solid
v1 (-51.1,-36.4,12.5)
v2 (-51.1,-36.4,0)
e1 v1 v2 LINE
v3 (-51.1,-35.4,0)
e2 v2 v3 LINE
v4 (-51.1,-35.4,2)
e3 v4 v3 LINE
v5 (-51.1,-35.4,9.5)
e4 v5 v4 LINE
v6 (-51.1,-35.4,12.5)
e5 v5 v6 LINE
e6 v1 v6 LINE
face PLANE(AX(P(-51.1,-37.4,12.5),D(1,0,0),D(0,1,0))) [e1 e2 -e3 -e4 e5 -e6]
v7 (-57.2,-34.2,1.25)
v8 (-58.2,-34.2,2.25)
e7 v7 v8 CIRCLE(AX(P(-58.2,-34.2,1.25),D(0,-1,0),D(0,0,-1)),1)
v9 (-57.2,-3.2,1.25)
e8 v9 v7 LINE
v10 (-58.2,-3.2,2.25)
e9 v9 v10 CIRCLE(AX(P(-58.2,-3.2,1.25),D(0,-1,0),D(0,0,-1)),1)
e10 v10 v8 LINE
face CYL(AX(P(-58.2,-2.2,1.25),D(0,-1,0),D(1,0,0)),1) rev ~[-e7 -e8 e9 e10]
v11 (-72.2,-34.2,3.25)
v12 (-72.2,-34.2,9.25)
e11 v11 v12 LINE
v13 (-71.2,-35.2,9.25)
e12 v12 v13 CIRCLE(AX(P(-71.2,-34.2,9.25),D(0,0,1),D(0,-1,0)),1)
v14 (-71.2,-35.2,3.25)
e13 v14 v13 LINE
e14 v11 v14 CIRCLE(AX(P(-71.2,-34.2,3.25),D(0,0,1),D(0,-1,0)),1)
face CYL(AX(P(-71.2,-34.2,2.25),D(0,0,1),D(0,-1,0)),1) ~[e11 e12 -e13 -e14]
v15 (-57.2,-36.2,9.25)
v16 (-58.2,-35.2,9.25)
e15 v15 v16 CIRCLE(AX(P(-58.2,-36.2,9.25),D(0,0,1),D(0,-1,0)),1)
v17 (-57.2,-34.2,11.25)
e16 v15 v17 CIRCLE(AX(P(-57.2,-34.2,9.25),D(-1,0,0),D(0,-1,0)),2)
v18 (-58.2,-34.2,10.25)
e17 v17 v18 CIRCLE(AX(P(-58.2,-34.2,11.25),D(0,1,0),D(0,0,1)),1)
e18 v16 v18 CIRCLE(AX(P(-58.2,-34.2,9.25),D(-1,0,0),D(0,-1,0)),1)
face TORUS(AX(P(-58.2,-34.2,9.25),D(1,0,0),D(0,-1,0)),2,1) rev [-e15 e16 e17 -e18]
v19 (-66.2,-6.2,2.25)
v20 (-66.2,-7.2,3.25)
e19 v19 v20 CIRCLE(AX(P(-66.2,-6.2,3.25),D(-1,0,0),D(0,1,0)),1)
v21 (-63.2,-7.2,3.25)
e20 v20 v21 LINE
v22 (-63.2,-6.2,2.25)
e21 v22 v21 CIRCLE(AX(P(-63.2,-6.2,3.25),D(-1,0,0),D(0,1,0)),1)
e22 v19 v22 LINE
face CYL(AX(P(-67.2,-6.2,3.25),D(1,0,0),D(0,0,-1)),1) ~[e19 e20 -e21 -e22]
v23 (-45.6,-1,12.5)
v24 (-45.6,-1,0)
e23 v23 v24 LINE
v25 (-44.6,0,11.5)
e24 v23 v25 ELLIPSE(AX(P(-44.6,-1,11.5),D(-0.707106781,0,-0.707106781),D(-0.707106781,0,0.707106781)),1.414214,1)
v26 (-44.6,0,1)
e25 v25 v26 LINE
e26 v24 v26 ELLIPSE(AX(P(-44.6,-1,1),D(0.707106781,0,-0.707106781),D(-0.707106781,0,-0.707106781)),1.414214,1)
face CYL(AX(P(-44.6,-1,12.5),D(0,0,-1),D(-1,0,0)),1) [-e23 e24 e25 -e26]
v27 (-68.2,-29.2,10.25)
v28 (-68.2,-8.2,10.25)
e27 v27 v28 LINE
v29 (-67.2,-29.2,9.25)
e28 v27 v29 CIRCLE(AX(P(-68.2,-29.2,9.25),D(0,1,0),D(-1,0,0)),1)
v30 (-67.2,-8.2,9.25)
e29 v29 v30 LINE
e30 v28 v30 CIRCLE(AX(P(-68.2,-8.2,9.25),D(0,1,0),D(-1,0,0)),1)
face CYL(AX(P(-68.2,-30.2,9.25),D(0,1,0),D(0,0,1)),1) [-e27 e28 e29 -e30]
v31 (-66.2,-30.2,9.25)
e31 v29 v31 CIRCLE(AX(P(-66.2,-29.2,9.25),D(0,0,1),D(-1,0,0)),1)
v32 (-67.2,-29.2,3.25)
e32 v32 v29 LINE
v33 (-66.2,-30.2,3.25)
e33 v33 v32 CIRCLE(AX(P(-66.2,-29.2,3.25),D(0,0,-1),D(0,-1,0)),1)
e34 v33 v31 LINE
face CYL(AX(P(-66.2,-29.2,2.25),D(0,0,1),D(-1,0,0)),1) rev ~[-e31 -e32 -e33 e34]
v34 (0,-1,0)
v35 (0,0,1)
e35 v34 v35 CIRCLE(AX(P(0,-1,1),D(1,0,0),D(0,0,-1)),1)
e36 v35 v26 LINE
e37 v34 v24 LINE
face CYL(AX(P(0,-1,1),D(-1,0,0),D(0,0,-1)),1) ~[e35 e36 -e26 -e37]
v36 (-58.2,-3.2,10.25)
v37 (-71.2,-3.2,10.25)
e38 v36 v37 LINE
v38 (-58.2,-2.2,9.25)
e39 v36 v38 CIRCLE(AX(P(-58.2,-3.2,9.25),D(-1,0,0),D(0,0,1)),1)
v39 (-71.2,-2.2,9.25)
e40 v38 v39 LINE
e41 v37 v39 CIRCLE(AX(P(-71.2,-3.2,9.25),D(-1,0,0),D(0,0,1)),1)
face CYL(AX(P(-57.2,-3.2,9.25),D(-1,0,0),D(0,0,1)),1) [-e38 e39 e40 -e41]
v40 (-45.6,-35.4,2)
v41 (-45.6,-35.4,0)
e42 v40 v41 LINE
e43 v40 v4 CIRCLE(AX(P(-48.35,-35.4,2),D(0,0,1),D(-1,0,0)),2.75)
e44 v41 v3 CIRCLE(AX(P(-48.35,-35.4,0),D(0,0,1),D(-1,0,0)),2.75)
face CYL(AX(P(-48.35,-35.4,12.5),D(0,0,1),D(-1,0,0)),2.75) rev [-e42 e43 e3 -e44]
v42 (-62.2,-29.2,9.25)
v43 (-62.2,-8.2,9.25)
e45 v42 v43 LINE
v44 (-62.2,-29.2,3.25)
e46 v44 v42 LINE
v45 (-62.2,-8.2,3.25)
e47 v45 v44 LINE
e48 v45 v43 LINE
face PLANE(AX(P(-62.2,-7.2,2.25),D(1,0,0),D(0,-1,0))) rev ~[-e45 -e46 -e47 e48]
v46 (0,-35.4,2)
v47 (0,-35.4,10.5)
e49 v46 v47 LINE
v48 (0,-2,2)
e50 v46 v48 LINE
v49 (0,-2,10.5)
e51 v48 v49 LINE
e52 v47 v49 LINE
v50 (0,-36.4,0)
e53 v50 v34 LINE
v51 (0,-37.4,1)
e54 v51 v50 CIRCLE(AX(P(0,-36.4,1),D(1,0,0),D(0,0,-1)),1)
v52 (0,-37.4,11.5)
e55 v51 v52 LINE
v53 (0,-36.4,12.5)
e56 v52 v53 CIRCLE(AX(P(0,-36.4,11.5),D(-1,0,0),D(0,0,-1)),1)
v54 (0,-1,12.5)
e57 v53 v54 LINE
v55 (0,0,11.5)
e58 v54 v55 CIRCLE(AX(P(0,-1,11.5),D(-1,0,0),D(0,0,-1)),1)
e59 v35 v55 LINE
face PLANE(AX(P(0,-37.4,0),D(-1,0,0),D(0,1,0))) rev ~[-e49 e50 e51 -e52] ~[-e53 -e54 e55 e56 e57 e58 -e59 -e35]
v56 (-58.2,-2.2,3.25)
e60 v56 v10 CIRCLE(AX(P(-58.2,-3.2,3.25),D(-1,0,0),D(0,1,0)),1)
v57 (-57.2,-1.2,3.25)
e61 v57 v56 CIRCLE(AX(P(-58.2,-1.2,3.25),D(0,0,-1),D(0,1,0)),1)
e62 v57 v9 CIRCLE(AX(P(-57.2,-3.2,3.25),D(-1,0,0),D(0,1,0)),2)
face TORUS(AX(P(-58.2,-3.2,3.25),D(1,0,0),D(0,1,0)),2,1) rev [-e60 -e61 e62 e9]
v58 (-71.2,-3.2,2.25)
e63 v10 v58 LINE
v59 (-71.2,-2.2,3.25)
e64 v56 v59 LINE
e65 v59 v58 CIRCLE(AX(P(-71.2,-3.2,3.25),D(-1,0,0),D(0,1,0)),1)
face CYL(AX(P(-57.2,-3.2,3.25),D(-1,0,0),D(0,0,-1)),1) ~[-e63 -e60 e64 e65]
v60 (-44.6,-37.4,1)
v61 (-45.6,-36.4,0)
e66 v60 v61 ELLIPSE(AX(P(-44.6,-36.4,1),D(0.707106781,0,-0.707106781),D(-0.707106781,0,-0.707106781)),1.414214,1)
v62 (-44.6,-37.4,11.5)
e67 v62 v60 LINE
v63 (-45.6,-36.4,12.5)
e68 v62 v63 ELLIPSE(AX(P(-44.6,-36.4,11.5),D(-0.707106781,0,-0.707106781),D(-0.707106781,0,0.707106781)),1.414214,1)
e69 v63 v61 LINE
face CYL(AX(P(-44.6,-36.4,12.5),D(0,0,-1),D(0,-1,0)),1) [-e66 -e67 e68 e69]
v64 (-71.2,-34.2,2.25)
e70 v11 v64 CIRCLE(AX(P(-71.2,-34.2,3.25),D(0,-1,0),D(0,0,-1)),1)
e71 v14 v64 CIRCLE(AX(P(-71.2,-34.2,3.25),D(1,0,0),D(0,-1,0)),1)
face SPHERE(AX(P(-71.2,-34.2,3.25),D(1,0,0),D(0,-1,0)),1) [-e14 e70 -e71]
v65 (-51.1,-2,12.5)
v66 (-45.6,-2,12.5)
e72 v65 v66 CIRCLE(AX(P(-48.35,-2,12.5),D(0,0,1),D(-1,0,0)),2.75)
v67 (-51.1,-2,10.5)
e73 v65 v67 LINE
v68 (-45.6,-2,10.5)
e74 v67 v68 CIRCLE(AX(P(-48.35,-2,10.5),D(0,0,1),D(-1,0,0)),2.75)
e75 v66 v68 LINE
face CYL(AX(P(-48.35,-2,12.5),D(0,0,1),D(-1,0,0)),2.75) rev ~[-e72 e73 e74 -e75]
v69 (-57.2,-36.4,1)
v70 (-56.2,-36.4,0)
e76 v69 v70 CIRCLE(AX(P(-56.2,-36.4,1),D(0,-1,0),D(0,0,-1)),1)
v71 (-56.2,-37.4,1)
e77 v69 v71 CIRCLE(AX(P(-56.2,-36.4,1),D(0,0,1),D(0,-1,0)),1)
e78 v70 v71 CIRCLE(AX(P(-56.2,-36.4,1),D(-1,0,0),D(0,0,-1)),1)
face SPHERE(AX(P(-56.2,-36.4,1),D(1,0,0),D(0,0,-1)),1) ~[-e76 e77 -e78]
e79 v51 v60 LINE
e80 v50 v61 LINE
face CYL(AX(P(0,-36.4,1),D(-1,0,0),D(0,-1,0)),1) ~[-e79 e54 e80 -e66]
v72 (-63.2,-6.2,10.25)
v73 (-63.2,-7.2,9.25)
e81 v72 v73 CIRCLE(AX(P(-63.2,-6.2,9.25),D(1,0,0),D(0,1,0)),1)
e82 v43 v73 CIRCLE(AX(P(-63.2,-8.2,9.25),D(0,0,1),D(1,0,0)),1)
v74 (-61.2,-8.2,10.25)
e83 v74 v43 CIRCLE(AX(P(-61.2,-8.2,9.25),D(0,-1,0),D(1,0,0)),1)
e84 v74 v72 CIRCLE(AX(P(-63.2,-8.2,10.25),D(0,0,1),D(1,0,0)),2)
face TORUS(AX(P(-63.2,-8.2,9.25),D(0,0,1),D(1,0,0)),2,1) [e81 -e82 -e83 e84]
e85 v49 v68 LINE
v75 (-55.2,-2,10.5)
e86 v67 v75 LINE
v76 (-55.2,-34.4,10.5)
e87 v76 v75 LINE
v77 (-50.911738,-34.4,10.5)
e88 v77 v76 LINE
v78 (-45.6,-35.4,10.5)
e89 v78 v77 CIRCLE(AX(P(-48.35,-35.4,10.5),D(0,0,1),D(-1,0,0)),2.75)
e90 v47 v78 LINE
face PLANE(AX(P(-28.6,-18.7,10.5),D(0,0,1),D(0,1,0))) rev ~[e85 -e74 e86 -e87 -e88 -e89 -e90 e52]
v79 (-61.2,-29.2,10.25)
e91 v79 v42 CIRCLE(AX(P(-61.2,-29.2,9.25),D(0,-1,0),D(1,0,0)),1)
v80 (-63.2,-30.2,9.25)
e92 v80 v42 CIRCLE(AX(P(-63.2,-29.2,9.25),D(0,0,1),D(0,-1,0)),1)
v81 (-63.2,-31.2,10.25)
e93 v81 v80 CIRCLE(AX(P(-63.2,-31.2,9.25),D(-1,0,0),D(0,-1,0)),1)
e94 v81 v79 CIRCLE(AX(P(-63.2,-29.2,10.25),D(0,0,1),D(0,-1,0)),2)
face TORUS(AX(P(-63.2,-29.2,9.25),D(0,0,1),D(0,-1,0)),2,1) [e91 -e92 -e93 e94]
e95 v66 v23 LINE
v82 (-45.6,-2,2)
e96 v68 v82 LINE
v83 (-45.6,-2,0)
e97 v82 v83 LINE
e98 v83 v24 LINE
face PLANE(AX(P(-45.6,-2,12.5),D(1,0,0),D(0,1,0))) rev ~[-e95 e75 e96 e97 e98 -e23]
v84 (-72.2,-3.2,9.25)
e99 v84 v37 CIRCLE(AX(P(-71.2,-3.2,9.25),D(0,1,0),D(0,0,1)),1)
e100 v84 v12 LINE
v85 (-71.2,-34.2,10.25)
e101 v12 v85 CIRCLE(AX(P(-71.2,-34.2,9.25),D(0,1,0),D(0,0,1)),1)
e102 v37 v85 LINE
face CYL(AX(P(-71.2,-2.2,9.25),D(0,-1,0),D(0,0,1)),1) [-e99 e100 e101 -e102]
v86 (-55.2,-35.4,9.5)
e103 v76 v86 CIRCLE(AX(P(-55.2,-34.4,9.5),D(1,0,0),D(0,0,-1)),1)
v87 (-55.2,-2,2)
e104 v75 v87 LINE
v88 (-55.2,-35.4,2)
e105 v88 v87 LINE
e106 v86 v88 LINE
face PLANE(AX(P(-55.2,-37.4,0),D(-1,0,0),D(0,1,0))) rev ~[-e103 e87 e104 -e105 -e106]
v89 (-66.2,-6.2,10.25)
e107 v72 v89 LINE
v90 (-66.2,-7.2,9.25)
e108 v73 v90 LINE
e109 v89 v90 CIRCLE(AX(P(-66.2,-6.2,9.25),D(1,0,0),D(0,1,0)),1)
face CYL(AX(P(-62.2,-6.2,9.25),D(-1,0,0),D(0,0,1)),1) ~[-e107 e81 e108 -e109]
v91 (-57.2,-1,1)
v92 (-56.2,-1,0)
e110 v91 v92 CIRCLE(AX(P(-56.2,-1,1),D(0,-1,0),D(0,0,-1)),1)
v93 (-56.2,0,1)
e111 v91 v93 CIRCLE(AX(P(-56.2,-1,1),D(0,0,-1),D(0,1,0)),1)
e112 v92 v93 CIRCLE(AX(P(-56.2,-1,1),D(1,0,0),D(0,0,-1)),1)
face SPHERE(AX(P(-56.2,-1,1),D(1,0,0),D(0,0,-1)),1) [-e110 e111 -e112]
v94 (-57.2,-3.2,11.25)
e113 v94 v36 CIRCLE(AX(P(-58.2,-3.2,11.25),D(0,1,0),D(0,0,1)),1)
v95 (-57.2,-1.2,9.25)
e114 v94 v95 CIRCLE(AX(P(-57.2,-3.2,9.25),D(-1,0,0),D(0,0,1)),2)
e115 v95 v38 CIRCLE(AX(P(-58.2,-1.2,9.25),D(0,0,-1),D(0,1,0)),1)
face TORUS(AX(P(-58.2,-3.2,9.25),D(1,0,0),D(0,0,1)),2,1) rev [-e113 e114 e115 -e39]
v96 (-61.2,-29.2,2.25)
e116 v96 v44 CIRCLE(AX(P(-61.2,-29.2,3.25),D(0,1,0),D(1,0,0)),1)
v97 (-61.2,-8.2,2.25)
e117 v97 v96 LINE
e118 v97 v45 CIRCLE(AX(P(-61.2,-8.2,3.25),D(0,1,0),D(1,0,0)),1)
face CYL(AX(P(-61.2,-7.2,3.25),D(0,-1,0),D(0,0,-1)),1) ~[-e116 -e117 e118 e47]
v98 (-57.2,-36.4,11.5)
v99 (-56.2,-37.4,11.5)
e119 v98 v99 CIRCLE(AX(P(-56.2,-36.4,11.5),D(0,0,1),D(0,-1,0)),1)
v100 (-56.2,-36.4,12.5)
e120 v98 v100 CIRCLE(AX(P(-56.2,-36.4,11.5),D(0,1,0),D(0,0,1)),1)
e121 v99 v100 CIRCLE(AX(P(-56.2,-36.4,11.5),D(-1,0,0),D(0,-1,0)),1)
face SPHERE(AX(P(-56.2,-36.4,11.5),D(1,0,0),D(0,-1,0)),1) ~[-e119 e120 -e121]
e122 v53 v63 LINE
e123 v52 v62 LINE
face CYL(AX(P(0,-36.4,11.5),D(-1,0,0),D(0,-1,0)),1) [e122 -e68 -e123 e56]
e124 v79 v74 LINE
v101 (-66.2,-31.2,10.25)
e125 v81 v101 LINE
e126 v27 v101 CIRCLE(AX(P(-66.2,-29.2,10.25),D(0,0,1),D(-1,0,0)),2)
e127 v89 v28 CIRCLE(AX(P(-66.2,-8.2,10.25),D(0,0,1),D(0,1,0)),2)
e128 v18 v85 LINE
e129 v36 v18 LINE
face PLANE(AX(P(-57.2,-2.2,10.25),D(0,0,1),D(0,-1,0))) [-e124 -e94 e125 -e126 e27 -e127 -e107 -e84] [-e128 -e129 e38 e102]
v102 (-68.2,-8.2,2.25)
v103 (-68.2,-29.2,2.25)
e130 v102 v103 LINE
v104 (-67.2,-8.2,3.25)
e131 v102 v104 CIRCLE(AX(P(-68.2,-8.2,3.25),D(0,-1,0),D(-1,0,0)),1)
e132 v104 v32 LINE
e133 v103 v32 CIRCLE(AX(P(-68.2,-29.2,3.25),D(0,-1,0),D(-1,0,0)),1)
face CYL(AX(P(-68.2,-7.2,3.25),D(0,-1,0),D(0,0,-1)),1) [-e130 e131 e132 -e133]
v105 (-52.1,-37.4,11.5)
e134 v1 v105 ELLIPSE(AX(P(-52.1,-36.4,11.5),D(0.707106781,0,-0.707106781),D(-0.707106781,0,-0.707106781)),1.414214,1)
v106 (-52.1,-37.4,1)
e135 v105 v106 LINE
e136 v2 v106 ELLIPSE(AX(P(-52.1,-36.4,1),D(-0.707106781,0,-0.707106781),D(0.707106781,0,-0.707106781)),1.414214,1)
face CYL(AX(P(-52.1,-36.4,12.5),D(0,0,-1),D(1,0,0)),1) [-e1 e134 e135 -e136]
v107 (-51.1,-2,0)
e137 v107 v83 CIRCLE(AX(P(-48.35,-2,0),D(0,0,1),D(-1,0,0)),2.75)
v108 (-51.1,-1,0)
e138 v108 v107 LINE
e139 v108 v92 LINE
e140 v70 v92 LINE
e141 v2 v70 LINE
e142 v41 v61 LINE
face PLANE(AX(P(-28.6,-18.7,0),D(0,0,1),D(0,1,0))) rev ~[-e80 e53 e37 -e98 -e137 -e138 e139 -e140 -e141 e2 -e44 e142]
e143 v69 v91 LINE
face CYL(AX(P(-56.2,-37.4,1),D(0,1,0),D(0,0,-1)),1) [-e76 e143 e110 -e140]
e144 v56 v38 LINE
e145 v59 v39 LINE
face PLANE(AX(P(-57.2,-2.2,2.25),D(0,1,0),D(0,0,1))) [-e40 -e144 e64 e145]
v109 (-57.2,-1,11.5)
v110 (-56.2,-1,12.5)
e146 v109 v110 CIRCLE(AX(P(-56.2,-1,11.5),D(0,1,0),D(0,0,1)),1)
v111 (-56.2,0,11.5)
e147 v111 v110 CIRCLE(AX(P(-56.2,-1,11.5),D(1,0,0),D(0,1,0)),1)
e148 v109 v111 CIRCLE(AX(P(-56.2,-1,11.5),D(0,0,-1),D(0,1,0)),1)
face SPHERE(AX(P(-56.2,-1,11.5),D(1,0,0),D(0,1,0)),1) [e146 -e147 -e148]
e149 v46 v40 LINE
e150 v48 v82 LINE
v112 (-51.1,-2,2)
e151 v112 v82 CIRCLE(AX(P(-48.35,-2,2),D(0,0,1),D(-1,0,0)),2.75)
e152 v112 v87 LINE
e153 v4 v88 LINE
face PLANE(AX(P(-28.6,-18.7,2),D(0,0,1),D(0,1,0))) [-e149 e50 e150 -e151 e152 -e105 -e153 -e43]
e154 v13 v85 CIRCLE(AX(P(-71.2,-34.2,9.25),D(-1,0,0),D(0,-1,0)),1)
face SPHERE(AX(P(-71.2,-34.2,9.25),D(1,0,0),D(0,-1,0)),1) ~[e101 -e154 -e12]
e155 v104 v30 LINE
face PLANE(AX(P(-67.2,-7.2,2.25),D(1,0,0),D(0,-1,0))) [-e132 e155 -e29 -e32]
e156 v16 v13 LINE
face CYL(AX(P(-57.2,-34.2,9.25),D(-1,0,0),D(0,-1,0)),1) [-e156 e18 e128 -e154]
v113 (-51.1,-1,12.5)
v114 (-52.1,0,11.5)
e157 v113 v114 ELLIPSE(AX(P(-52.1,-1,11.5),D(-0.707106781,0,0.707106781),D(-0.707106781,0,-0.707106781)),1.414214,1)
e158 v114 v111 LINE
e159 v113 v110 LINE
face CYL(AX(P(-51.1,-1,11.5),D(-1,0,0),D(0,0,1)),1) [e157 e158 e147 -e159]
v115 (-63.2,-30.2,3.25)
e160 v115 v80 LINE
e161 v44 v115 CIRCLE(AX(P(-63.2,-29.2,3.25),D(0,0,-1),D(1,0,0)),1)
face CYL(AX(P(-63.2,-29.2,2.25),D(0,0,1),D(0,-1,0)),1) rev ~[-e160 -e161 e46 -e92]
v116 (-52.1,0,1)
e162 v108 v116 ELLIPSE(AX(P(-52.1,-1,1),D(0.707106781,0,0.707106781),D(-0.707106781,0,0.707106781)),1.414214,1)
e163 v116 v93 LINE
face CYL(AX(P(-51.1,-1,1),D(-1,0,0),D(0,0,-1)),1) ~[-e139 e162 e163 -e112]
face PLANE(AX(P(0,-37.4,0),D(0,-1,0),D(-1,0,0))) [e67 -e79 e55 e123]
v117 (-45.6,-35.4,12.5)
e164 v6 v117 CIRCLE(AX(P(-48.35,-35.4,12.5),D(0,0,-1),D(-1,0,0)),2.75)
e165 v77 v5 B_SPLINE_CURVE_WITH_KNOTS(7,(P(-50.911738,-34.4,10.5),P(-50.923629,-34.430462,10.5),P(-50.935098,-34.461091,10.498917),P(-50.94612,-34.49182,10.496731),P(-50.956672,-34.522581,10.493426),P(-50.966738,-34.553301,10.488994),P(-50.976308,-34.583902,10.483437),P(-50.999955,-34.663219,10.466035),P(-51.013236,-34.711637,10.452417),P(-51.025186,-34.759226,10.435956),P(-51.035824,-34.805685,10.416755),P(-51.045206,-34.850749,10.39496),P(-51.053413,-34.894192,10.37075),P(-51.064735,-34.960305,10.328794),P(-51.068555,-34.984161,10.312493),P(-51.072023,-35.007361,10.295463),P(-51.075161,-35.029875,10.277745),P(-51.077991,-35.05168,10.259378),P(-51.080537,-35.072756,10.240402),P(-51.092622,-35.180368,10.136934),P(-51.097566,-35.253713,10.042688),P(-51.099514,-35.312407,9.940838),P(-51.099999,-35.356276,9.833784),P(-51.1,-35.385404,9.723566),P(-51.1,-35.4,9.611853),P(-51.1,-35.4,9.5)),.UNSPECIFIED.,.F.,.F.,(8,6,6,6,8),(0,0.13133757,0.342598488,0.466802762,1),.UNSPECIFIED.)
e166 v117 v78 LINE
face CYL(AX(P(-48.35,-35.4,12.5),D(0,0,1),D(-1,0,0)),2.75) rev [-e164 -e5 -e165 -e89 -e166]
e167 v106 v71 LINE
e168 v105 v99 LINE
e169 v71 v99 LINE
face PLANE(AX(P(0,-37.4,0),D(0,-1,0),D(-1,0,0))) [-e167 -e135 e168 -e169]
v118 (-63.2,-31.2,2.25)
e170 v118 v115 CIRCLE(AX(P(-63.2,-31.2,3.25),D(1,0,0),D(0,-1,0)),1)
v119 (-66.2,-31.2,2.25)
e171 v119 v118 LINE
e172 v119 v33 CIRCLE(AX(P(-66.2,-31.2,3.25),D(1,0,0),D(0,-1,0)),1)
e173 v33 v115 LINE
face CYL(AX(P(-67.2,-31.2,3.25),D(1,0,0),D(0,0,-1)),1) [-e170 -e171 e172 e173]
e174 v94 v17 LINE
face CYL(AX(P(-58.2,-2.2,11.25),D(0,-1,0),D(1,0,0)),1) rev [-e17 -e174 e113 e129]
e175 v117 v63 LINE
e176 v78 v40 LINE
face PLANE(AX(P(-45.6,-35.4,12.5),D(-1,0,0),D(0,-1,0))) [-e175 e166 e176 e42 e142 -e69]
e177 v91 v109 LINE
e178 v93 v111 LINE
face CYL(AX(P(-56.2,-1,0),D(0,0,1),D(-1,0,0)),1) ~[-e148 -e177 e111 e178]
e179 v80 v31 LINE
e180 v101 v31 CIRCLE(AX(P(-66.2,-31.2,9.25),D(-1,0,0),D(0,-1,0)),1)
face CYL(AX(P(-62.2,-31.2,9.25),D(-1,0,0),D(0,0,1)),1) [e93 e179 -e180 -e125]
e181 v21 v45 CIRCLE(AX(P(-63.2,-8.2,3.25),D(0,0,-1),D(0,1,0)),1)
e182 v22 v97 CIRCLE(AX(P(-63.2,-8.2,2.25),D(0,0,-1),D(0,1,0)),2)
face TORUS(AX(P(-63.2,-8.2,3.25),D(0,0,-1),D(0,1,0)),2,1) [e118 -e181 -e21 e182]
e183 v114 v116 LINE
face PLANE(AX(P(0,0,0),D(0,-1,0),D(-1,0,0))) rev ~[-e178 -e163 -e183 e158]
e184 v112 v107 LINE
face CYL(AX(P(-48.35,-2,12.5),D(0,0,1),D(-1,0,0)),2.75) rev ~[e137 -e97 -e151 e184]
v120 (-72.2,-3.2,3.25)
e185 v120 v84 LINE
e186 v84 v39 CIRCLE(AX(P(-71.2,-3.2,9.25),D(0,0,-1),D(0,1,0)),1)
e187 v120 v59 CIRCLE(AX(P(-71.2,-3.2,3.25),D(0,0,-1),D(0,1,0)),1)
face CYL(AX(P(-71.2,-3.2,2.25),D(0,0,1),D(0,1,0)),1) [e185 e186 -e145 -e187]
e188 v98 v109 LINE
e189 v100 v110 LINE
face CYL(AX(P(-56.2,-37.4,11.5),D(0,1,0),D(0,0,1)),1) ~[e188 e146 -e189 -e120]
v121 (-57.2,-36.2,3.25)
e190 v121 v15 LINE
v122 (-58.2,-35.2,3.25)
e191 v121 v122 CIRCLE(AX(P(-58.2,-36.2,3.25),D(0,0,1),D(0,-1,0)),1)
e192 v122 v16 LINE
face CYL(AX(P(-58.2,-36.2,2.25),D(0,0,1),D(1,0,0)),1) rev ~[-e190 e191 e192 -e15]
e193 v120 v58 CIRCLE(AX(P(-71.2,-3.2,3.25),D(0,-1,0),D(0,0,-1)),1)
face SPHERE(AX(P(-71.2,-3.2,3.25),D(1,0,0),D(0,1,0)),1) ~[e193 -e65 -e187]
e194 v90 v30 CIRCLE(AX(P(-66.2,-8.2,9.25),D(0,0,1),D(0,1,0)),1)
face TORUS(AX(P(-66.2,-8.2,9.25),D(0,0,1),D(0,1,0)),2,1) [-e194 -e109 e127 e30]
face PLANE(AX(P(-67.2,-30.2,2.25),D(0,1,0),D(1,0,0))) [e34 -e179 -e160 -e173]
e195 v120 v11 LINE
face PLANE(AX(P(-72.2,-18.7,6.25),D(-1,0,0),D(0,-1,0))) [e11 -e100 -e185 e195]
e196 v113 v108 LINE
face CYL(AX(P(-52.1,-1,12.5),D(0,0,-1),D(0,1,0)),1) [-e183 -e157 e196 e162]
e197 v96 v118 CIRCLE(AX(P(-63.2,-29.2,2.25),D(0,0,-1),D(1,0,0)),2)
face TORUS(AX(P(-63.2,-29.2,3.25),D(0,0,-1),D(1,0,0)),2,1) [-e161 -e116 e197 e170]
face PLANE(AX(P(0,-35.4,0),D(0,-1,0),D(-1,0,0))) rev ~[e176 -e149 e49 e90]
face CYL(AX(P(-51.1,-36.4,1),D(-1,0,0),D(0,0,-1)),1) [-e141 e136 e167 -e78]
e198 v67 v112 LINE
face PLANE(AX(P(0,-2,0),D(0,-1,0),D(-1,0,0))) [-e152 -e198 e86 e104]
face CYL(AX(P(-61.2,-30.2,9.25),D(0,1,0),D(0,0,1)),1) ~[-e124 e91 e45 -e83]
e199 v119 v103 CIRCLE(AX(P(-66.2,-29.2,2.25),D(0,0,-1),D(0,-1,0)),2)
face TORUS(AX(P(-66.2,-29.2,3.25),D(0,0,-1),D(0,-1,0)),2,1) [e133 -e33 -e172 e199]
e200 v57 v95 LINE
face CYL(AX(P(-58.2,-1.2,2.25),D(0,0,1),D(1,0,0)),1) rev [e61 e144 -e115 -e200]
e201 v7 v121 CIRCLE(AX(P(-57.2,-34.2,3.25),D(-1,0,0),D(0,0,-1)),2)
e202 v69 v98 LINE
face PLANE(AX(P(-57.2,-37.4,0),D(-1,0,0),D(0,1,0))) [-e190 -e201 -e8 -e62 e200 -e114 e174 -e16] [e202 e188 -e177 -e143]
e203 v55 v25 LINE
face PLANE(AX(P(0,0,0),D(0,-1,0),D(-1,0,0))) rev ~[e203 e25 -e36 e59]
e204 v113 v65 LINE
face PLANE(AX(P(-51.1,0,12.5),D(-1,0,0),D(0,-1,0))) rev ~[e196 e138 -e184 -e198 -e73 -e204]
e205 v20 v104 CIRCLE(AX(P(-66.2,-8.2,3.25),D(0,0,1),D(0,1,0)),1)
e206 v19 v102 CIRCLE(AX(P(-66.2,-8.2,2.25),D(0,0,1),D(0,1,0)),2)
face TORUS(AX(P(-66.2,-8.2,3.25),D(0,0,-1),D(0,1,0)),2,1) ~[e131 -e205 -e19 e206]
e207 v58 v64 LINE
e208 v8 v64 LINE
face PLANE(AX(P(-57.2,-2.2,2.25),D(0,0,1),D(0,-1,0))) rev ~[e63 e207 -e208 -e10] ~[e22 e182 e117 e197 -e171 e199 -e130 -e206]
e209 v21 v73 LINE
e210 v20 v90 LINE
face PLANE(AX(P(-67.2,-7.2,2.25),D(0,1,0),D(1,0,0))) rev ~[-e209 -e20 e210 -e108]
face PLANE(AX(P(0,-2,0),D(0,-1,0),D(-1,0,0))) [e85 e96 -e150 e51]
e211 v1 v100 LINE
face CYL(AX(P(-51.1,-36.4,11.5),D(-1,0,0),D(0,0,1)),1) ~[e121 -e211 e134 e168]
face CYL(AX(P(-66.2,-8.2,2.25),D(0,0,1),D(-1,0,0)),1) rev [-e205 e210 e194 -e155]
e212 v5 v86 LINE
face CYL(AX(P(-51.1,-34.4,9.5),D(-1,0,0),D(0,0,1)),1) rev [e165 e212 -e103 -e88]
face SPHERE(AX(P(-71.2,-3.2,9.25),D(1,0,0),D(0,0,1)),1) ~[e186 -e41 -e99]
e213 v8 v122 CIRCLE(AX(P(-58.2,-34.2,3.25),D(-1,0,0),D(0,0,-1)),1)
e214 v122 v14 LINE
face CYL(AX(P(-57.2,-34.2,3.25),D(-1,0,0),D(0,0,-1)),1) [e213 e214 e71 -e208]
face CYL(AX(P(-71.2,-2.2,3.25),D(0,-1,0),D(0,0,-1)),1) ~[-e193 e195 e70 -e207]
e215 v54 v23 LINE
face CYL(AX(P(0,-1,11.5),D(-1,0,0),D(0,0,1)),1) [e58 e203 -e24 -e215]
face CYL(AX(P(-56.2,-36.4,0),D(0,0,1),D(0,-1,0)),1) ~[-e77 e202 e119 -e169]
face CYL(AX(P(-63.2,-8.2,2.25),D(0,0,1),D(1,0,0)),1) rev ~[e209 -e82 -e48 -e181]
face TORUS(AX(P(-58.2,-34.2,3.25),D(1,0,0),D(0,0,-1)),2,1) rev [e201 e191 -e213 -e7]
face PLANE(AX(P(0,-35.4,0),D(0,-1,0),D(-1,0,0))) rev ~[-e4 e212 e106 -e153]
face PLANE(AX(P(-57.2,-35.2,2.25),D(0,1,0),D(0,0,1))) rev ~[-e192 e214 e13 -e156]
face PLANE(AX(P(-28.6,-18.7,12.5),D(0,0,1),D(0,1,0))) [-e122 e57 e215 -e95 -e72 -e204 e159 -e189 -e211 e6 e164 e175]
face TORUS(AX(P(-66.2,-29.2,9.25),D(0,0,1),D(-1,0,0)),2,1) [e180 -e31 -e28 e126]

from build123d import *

# Parameters (mm, degrees)
SKETCH1_W           = 37.4
SKETCH1_H           = 57.2
BOSS_EXTRUDE1_DEPTH = 12.5
SHELL1_T            = -2
CUT_EXTRUDE1_DEPTH  = 70.475535262
SKETCH3_W           = 33
SKETCH3_H           = 8
BOSS_EXTRUDE2_DEPTH = 15
SKETCH4_W           = 5
SKETCH4_H           = 23
CUT_EXTRUDE2_DEPTH  = 82.955246934
FILLET2_R           = 1


with BuildPart() as part:
    # Sketch1 → Boss-Extrude1 (new body)
    with BuildSketch(Plane(origin=(0, 0, 0), x_dir=(0, 1, 0), z_dir=(0, 0, 1))):
        with Locations((-18.7, 28.6)):
            Rectangle(SKETCH1_W, SKETCH1_H)
    extrude(amount=BOSS_EXTRUDE1_DEPTH)

    # Shell1
    shell1_openings = [part.faces().sort_by_distance(p)[0] for p in [
        (0, -18.7, 6.25),
    ]]
    offset(amount=SHELL1_T, openings=shell1_openings, kind=Kind.INTERSECTION)

    # Sketch2 → Cut-Extrude1 (cut, through all)
    with BuildSketch(Plane.XY.offset(12.5)):
        with BuildLine():
            Line((-51.1, -37.4), (-51.1, -35.4))
            ThreePointArc((-51.1, -35.4), (-48.35, -32.65), (-45.6, -35.4))
            Line((-45.6, -35.4), (-45.6, -37.4))
            Line((-45.6, -37.4), (-51.1, -37.4))
        make_face()
        with BuildLine():
            Line((-51.1, 0), (-51.1, -2))
            ThreePointArc((-51.1, -2), (-48.35, -4.75), (-45.6, -2))
            Line((-45.6, -2), (-45.6, 0))
            Line((-45.6, 0), (-51.1, 0))
        make_face()
    extrude(amount=-CUT_EXTRUDE1_DEPTH, mode=Mode.SUBTRACT)

    # Sketch3 → Boss-Extrude2 (add)
    with BuildSketch(Plane(origin=(-57.2, 0, 0), x_dir=(0, -1, 0), z_dir=(-1, 0, 0))):
        with Locations((18.7, 6.25)):
            Rectangle(SKETCH3_W, SKETCH3_H)
    extrude(amount=BOSS_EXTRUDE2_DEPTH)

    # Sketch4 → Cut-Extrude2 (cut, through all)
    with BuildSketch(Plane(origin=(0, 0, 2.25), x_dir=(1, 0, 0), z_dir=(0, 0, -1))):
        with Locations((-64.7, 18.7)):
            Rectangle(SKETCH4_W, SKETCH4_H)
    extrude(amount=-CUT_EXTRUDE2_DEPTH, mode=Mode.SUBTRACT)

    # Fillet2
    fillet2_edges = [part.edges().sort_by_distance(p)[0] for p in [
        (-54.15, -37.4, 12.5),
        (-53.15, -35.4, 10.5),
        (-54.15, 0, 0),
        (-22.8, -37.4, 0),
        (-54.15, 0, 12.5),
        (-22.8, -37.4, 12.5),
        (-45.6, -37.4, 6.25),
        (-51.1, -37.4, 6.25),
        (-22.8, 0, 12.5),
        (-51.1, 0, 6.25),
        (-45.6, 0, 6.25),
        (-54.15, -37.4, 0),
        (-57.2, -18.7, 0),
        (-22.8, 0, 0),
        (-57.2, -35.2, 6.25),
        (-64.7, -35.2, 2.25),
        (-57.2, -18.7, 10.25),
        (-64.7, -35.2, 10.25),
        (-57.2, -2.2, 6.25),
        (-64.7, -2.2, 10.25),
        (-57.2, -18.7, 2.25),
        (-64.7, -2.2, 2.25),
        (-72.2, -35.2, 6.25),
        (-72.2, -18.7, 10.25),
        (-72.2, -2.2, 6.25),
        (-72.2, -18.7, 2.25),
        (-57.2, -37.4, 6.25),
        (-57.2, 0, 6.25),
        (-64.7, -7.2, 10.25),
        (-62.2, -7.2, 6.25),
        (-67.2, -18.7, 10.25),
        (-67.2, -7.2, 6.25),
        (-64.7, -30.2, 10.25),
        (-67.2, -30.2, 6.25),
        (-62.2, -18.7, 10.25),
        (-62.2, -30.2, 6.25),
        (-64.7, -7.2, 2.25),
        (-62.2, -18.7, 2.25),
        (-57.2, -18.7, 12.5),
        (-64.7, -30.2, 2.25),
        (-67.2, -18.7, 2.25),
    ]]
    fillet(fillet2_edges, radius=FILLET2_R)


solid = part.part
